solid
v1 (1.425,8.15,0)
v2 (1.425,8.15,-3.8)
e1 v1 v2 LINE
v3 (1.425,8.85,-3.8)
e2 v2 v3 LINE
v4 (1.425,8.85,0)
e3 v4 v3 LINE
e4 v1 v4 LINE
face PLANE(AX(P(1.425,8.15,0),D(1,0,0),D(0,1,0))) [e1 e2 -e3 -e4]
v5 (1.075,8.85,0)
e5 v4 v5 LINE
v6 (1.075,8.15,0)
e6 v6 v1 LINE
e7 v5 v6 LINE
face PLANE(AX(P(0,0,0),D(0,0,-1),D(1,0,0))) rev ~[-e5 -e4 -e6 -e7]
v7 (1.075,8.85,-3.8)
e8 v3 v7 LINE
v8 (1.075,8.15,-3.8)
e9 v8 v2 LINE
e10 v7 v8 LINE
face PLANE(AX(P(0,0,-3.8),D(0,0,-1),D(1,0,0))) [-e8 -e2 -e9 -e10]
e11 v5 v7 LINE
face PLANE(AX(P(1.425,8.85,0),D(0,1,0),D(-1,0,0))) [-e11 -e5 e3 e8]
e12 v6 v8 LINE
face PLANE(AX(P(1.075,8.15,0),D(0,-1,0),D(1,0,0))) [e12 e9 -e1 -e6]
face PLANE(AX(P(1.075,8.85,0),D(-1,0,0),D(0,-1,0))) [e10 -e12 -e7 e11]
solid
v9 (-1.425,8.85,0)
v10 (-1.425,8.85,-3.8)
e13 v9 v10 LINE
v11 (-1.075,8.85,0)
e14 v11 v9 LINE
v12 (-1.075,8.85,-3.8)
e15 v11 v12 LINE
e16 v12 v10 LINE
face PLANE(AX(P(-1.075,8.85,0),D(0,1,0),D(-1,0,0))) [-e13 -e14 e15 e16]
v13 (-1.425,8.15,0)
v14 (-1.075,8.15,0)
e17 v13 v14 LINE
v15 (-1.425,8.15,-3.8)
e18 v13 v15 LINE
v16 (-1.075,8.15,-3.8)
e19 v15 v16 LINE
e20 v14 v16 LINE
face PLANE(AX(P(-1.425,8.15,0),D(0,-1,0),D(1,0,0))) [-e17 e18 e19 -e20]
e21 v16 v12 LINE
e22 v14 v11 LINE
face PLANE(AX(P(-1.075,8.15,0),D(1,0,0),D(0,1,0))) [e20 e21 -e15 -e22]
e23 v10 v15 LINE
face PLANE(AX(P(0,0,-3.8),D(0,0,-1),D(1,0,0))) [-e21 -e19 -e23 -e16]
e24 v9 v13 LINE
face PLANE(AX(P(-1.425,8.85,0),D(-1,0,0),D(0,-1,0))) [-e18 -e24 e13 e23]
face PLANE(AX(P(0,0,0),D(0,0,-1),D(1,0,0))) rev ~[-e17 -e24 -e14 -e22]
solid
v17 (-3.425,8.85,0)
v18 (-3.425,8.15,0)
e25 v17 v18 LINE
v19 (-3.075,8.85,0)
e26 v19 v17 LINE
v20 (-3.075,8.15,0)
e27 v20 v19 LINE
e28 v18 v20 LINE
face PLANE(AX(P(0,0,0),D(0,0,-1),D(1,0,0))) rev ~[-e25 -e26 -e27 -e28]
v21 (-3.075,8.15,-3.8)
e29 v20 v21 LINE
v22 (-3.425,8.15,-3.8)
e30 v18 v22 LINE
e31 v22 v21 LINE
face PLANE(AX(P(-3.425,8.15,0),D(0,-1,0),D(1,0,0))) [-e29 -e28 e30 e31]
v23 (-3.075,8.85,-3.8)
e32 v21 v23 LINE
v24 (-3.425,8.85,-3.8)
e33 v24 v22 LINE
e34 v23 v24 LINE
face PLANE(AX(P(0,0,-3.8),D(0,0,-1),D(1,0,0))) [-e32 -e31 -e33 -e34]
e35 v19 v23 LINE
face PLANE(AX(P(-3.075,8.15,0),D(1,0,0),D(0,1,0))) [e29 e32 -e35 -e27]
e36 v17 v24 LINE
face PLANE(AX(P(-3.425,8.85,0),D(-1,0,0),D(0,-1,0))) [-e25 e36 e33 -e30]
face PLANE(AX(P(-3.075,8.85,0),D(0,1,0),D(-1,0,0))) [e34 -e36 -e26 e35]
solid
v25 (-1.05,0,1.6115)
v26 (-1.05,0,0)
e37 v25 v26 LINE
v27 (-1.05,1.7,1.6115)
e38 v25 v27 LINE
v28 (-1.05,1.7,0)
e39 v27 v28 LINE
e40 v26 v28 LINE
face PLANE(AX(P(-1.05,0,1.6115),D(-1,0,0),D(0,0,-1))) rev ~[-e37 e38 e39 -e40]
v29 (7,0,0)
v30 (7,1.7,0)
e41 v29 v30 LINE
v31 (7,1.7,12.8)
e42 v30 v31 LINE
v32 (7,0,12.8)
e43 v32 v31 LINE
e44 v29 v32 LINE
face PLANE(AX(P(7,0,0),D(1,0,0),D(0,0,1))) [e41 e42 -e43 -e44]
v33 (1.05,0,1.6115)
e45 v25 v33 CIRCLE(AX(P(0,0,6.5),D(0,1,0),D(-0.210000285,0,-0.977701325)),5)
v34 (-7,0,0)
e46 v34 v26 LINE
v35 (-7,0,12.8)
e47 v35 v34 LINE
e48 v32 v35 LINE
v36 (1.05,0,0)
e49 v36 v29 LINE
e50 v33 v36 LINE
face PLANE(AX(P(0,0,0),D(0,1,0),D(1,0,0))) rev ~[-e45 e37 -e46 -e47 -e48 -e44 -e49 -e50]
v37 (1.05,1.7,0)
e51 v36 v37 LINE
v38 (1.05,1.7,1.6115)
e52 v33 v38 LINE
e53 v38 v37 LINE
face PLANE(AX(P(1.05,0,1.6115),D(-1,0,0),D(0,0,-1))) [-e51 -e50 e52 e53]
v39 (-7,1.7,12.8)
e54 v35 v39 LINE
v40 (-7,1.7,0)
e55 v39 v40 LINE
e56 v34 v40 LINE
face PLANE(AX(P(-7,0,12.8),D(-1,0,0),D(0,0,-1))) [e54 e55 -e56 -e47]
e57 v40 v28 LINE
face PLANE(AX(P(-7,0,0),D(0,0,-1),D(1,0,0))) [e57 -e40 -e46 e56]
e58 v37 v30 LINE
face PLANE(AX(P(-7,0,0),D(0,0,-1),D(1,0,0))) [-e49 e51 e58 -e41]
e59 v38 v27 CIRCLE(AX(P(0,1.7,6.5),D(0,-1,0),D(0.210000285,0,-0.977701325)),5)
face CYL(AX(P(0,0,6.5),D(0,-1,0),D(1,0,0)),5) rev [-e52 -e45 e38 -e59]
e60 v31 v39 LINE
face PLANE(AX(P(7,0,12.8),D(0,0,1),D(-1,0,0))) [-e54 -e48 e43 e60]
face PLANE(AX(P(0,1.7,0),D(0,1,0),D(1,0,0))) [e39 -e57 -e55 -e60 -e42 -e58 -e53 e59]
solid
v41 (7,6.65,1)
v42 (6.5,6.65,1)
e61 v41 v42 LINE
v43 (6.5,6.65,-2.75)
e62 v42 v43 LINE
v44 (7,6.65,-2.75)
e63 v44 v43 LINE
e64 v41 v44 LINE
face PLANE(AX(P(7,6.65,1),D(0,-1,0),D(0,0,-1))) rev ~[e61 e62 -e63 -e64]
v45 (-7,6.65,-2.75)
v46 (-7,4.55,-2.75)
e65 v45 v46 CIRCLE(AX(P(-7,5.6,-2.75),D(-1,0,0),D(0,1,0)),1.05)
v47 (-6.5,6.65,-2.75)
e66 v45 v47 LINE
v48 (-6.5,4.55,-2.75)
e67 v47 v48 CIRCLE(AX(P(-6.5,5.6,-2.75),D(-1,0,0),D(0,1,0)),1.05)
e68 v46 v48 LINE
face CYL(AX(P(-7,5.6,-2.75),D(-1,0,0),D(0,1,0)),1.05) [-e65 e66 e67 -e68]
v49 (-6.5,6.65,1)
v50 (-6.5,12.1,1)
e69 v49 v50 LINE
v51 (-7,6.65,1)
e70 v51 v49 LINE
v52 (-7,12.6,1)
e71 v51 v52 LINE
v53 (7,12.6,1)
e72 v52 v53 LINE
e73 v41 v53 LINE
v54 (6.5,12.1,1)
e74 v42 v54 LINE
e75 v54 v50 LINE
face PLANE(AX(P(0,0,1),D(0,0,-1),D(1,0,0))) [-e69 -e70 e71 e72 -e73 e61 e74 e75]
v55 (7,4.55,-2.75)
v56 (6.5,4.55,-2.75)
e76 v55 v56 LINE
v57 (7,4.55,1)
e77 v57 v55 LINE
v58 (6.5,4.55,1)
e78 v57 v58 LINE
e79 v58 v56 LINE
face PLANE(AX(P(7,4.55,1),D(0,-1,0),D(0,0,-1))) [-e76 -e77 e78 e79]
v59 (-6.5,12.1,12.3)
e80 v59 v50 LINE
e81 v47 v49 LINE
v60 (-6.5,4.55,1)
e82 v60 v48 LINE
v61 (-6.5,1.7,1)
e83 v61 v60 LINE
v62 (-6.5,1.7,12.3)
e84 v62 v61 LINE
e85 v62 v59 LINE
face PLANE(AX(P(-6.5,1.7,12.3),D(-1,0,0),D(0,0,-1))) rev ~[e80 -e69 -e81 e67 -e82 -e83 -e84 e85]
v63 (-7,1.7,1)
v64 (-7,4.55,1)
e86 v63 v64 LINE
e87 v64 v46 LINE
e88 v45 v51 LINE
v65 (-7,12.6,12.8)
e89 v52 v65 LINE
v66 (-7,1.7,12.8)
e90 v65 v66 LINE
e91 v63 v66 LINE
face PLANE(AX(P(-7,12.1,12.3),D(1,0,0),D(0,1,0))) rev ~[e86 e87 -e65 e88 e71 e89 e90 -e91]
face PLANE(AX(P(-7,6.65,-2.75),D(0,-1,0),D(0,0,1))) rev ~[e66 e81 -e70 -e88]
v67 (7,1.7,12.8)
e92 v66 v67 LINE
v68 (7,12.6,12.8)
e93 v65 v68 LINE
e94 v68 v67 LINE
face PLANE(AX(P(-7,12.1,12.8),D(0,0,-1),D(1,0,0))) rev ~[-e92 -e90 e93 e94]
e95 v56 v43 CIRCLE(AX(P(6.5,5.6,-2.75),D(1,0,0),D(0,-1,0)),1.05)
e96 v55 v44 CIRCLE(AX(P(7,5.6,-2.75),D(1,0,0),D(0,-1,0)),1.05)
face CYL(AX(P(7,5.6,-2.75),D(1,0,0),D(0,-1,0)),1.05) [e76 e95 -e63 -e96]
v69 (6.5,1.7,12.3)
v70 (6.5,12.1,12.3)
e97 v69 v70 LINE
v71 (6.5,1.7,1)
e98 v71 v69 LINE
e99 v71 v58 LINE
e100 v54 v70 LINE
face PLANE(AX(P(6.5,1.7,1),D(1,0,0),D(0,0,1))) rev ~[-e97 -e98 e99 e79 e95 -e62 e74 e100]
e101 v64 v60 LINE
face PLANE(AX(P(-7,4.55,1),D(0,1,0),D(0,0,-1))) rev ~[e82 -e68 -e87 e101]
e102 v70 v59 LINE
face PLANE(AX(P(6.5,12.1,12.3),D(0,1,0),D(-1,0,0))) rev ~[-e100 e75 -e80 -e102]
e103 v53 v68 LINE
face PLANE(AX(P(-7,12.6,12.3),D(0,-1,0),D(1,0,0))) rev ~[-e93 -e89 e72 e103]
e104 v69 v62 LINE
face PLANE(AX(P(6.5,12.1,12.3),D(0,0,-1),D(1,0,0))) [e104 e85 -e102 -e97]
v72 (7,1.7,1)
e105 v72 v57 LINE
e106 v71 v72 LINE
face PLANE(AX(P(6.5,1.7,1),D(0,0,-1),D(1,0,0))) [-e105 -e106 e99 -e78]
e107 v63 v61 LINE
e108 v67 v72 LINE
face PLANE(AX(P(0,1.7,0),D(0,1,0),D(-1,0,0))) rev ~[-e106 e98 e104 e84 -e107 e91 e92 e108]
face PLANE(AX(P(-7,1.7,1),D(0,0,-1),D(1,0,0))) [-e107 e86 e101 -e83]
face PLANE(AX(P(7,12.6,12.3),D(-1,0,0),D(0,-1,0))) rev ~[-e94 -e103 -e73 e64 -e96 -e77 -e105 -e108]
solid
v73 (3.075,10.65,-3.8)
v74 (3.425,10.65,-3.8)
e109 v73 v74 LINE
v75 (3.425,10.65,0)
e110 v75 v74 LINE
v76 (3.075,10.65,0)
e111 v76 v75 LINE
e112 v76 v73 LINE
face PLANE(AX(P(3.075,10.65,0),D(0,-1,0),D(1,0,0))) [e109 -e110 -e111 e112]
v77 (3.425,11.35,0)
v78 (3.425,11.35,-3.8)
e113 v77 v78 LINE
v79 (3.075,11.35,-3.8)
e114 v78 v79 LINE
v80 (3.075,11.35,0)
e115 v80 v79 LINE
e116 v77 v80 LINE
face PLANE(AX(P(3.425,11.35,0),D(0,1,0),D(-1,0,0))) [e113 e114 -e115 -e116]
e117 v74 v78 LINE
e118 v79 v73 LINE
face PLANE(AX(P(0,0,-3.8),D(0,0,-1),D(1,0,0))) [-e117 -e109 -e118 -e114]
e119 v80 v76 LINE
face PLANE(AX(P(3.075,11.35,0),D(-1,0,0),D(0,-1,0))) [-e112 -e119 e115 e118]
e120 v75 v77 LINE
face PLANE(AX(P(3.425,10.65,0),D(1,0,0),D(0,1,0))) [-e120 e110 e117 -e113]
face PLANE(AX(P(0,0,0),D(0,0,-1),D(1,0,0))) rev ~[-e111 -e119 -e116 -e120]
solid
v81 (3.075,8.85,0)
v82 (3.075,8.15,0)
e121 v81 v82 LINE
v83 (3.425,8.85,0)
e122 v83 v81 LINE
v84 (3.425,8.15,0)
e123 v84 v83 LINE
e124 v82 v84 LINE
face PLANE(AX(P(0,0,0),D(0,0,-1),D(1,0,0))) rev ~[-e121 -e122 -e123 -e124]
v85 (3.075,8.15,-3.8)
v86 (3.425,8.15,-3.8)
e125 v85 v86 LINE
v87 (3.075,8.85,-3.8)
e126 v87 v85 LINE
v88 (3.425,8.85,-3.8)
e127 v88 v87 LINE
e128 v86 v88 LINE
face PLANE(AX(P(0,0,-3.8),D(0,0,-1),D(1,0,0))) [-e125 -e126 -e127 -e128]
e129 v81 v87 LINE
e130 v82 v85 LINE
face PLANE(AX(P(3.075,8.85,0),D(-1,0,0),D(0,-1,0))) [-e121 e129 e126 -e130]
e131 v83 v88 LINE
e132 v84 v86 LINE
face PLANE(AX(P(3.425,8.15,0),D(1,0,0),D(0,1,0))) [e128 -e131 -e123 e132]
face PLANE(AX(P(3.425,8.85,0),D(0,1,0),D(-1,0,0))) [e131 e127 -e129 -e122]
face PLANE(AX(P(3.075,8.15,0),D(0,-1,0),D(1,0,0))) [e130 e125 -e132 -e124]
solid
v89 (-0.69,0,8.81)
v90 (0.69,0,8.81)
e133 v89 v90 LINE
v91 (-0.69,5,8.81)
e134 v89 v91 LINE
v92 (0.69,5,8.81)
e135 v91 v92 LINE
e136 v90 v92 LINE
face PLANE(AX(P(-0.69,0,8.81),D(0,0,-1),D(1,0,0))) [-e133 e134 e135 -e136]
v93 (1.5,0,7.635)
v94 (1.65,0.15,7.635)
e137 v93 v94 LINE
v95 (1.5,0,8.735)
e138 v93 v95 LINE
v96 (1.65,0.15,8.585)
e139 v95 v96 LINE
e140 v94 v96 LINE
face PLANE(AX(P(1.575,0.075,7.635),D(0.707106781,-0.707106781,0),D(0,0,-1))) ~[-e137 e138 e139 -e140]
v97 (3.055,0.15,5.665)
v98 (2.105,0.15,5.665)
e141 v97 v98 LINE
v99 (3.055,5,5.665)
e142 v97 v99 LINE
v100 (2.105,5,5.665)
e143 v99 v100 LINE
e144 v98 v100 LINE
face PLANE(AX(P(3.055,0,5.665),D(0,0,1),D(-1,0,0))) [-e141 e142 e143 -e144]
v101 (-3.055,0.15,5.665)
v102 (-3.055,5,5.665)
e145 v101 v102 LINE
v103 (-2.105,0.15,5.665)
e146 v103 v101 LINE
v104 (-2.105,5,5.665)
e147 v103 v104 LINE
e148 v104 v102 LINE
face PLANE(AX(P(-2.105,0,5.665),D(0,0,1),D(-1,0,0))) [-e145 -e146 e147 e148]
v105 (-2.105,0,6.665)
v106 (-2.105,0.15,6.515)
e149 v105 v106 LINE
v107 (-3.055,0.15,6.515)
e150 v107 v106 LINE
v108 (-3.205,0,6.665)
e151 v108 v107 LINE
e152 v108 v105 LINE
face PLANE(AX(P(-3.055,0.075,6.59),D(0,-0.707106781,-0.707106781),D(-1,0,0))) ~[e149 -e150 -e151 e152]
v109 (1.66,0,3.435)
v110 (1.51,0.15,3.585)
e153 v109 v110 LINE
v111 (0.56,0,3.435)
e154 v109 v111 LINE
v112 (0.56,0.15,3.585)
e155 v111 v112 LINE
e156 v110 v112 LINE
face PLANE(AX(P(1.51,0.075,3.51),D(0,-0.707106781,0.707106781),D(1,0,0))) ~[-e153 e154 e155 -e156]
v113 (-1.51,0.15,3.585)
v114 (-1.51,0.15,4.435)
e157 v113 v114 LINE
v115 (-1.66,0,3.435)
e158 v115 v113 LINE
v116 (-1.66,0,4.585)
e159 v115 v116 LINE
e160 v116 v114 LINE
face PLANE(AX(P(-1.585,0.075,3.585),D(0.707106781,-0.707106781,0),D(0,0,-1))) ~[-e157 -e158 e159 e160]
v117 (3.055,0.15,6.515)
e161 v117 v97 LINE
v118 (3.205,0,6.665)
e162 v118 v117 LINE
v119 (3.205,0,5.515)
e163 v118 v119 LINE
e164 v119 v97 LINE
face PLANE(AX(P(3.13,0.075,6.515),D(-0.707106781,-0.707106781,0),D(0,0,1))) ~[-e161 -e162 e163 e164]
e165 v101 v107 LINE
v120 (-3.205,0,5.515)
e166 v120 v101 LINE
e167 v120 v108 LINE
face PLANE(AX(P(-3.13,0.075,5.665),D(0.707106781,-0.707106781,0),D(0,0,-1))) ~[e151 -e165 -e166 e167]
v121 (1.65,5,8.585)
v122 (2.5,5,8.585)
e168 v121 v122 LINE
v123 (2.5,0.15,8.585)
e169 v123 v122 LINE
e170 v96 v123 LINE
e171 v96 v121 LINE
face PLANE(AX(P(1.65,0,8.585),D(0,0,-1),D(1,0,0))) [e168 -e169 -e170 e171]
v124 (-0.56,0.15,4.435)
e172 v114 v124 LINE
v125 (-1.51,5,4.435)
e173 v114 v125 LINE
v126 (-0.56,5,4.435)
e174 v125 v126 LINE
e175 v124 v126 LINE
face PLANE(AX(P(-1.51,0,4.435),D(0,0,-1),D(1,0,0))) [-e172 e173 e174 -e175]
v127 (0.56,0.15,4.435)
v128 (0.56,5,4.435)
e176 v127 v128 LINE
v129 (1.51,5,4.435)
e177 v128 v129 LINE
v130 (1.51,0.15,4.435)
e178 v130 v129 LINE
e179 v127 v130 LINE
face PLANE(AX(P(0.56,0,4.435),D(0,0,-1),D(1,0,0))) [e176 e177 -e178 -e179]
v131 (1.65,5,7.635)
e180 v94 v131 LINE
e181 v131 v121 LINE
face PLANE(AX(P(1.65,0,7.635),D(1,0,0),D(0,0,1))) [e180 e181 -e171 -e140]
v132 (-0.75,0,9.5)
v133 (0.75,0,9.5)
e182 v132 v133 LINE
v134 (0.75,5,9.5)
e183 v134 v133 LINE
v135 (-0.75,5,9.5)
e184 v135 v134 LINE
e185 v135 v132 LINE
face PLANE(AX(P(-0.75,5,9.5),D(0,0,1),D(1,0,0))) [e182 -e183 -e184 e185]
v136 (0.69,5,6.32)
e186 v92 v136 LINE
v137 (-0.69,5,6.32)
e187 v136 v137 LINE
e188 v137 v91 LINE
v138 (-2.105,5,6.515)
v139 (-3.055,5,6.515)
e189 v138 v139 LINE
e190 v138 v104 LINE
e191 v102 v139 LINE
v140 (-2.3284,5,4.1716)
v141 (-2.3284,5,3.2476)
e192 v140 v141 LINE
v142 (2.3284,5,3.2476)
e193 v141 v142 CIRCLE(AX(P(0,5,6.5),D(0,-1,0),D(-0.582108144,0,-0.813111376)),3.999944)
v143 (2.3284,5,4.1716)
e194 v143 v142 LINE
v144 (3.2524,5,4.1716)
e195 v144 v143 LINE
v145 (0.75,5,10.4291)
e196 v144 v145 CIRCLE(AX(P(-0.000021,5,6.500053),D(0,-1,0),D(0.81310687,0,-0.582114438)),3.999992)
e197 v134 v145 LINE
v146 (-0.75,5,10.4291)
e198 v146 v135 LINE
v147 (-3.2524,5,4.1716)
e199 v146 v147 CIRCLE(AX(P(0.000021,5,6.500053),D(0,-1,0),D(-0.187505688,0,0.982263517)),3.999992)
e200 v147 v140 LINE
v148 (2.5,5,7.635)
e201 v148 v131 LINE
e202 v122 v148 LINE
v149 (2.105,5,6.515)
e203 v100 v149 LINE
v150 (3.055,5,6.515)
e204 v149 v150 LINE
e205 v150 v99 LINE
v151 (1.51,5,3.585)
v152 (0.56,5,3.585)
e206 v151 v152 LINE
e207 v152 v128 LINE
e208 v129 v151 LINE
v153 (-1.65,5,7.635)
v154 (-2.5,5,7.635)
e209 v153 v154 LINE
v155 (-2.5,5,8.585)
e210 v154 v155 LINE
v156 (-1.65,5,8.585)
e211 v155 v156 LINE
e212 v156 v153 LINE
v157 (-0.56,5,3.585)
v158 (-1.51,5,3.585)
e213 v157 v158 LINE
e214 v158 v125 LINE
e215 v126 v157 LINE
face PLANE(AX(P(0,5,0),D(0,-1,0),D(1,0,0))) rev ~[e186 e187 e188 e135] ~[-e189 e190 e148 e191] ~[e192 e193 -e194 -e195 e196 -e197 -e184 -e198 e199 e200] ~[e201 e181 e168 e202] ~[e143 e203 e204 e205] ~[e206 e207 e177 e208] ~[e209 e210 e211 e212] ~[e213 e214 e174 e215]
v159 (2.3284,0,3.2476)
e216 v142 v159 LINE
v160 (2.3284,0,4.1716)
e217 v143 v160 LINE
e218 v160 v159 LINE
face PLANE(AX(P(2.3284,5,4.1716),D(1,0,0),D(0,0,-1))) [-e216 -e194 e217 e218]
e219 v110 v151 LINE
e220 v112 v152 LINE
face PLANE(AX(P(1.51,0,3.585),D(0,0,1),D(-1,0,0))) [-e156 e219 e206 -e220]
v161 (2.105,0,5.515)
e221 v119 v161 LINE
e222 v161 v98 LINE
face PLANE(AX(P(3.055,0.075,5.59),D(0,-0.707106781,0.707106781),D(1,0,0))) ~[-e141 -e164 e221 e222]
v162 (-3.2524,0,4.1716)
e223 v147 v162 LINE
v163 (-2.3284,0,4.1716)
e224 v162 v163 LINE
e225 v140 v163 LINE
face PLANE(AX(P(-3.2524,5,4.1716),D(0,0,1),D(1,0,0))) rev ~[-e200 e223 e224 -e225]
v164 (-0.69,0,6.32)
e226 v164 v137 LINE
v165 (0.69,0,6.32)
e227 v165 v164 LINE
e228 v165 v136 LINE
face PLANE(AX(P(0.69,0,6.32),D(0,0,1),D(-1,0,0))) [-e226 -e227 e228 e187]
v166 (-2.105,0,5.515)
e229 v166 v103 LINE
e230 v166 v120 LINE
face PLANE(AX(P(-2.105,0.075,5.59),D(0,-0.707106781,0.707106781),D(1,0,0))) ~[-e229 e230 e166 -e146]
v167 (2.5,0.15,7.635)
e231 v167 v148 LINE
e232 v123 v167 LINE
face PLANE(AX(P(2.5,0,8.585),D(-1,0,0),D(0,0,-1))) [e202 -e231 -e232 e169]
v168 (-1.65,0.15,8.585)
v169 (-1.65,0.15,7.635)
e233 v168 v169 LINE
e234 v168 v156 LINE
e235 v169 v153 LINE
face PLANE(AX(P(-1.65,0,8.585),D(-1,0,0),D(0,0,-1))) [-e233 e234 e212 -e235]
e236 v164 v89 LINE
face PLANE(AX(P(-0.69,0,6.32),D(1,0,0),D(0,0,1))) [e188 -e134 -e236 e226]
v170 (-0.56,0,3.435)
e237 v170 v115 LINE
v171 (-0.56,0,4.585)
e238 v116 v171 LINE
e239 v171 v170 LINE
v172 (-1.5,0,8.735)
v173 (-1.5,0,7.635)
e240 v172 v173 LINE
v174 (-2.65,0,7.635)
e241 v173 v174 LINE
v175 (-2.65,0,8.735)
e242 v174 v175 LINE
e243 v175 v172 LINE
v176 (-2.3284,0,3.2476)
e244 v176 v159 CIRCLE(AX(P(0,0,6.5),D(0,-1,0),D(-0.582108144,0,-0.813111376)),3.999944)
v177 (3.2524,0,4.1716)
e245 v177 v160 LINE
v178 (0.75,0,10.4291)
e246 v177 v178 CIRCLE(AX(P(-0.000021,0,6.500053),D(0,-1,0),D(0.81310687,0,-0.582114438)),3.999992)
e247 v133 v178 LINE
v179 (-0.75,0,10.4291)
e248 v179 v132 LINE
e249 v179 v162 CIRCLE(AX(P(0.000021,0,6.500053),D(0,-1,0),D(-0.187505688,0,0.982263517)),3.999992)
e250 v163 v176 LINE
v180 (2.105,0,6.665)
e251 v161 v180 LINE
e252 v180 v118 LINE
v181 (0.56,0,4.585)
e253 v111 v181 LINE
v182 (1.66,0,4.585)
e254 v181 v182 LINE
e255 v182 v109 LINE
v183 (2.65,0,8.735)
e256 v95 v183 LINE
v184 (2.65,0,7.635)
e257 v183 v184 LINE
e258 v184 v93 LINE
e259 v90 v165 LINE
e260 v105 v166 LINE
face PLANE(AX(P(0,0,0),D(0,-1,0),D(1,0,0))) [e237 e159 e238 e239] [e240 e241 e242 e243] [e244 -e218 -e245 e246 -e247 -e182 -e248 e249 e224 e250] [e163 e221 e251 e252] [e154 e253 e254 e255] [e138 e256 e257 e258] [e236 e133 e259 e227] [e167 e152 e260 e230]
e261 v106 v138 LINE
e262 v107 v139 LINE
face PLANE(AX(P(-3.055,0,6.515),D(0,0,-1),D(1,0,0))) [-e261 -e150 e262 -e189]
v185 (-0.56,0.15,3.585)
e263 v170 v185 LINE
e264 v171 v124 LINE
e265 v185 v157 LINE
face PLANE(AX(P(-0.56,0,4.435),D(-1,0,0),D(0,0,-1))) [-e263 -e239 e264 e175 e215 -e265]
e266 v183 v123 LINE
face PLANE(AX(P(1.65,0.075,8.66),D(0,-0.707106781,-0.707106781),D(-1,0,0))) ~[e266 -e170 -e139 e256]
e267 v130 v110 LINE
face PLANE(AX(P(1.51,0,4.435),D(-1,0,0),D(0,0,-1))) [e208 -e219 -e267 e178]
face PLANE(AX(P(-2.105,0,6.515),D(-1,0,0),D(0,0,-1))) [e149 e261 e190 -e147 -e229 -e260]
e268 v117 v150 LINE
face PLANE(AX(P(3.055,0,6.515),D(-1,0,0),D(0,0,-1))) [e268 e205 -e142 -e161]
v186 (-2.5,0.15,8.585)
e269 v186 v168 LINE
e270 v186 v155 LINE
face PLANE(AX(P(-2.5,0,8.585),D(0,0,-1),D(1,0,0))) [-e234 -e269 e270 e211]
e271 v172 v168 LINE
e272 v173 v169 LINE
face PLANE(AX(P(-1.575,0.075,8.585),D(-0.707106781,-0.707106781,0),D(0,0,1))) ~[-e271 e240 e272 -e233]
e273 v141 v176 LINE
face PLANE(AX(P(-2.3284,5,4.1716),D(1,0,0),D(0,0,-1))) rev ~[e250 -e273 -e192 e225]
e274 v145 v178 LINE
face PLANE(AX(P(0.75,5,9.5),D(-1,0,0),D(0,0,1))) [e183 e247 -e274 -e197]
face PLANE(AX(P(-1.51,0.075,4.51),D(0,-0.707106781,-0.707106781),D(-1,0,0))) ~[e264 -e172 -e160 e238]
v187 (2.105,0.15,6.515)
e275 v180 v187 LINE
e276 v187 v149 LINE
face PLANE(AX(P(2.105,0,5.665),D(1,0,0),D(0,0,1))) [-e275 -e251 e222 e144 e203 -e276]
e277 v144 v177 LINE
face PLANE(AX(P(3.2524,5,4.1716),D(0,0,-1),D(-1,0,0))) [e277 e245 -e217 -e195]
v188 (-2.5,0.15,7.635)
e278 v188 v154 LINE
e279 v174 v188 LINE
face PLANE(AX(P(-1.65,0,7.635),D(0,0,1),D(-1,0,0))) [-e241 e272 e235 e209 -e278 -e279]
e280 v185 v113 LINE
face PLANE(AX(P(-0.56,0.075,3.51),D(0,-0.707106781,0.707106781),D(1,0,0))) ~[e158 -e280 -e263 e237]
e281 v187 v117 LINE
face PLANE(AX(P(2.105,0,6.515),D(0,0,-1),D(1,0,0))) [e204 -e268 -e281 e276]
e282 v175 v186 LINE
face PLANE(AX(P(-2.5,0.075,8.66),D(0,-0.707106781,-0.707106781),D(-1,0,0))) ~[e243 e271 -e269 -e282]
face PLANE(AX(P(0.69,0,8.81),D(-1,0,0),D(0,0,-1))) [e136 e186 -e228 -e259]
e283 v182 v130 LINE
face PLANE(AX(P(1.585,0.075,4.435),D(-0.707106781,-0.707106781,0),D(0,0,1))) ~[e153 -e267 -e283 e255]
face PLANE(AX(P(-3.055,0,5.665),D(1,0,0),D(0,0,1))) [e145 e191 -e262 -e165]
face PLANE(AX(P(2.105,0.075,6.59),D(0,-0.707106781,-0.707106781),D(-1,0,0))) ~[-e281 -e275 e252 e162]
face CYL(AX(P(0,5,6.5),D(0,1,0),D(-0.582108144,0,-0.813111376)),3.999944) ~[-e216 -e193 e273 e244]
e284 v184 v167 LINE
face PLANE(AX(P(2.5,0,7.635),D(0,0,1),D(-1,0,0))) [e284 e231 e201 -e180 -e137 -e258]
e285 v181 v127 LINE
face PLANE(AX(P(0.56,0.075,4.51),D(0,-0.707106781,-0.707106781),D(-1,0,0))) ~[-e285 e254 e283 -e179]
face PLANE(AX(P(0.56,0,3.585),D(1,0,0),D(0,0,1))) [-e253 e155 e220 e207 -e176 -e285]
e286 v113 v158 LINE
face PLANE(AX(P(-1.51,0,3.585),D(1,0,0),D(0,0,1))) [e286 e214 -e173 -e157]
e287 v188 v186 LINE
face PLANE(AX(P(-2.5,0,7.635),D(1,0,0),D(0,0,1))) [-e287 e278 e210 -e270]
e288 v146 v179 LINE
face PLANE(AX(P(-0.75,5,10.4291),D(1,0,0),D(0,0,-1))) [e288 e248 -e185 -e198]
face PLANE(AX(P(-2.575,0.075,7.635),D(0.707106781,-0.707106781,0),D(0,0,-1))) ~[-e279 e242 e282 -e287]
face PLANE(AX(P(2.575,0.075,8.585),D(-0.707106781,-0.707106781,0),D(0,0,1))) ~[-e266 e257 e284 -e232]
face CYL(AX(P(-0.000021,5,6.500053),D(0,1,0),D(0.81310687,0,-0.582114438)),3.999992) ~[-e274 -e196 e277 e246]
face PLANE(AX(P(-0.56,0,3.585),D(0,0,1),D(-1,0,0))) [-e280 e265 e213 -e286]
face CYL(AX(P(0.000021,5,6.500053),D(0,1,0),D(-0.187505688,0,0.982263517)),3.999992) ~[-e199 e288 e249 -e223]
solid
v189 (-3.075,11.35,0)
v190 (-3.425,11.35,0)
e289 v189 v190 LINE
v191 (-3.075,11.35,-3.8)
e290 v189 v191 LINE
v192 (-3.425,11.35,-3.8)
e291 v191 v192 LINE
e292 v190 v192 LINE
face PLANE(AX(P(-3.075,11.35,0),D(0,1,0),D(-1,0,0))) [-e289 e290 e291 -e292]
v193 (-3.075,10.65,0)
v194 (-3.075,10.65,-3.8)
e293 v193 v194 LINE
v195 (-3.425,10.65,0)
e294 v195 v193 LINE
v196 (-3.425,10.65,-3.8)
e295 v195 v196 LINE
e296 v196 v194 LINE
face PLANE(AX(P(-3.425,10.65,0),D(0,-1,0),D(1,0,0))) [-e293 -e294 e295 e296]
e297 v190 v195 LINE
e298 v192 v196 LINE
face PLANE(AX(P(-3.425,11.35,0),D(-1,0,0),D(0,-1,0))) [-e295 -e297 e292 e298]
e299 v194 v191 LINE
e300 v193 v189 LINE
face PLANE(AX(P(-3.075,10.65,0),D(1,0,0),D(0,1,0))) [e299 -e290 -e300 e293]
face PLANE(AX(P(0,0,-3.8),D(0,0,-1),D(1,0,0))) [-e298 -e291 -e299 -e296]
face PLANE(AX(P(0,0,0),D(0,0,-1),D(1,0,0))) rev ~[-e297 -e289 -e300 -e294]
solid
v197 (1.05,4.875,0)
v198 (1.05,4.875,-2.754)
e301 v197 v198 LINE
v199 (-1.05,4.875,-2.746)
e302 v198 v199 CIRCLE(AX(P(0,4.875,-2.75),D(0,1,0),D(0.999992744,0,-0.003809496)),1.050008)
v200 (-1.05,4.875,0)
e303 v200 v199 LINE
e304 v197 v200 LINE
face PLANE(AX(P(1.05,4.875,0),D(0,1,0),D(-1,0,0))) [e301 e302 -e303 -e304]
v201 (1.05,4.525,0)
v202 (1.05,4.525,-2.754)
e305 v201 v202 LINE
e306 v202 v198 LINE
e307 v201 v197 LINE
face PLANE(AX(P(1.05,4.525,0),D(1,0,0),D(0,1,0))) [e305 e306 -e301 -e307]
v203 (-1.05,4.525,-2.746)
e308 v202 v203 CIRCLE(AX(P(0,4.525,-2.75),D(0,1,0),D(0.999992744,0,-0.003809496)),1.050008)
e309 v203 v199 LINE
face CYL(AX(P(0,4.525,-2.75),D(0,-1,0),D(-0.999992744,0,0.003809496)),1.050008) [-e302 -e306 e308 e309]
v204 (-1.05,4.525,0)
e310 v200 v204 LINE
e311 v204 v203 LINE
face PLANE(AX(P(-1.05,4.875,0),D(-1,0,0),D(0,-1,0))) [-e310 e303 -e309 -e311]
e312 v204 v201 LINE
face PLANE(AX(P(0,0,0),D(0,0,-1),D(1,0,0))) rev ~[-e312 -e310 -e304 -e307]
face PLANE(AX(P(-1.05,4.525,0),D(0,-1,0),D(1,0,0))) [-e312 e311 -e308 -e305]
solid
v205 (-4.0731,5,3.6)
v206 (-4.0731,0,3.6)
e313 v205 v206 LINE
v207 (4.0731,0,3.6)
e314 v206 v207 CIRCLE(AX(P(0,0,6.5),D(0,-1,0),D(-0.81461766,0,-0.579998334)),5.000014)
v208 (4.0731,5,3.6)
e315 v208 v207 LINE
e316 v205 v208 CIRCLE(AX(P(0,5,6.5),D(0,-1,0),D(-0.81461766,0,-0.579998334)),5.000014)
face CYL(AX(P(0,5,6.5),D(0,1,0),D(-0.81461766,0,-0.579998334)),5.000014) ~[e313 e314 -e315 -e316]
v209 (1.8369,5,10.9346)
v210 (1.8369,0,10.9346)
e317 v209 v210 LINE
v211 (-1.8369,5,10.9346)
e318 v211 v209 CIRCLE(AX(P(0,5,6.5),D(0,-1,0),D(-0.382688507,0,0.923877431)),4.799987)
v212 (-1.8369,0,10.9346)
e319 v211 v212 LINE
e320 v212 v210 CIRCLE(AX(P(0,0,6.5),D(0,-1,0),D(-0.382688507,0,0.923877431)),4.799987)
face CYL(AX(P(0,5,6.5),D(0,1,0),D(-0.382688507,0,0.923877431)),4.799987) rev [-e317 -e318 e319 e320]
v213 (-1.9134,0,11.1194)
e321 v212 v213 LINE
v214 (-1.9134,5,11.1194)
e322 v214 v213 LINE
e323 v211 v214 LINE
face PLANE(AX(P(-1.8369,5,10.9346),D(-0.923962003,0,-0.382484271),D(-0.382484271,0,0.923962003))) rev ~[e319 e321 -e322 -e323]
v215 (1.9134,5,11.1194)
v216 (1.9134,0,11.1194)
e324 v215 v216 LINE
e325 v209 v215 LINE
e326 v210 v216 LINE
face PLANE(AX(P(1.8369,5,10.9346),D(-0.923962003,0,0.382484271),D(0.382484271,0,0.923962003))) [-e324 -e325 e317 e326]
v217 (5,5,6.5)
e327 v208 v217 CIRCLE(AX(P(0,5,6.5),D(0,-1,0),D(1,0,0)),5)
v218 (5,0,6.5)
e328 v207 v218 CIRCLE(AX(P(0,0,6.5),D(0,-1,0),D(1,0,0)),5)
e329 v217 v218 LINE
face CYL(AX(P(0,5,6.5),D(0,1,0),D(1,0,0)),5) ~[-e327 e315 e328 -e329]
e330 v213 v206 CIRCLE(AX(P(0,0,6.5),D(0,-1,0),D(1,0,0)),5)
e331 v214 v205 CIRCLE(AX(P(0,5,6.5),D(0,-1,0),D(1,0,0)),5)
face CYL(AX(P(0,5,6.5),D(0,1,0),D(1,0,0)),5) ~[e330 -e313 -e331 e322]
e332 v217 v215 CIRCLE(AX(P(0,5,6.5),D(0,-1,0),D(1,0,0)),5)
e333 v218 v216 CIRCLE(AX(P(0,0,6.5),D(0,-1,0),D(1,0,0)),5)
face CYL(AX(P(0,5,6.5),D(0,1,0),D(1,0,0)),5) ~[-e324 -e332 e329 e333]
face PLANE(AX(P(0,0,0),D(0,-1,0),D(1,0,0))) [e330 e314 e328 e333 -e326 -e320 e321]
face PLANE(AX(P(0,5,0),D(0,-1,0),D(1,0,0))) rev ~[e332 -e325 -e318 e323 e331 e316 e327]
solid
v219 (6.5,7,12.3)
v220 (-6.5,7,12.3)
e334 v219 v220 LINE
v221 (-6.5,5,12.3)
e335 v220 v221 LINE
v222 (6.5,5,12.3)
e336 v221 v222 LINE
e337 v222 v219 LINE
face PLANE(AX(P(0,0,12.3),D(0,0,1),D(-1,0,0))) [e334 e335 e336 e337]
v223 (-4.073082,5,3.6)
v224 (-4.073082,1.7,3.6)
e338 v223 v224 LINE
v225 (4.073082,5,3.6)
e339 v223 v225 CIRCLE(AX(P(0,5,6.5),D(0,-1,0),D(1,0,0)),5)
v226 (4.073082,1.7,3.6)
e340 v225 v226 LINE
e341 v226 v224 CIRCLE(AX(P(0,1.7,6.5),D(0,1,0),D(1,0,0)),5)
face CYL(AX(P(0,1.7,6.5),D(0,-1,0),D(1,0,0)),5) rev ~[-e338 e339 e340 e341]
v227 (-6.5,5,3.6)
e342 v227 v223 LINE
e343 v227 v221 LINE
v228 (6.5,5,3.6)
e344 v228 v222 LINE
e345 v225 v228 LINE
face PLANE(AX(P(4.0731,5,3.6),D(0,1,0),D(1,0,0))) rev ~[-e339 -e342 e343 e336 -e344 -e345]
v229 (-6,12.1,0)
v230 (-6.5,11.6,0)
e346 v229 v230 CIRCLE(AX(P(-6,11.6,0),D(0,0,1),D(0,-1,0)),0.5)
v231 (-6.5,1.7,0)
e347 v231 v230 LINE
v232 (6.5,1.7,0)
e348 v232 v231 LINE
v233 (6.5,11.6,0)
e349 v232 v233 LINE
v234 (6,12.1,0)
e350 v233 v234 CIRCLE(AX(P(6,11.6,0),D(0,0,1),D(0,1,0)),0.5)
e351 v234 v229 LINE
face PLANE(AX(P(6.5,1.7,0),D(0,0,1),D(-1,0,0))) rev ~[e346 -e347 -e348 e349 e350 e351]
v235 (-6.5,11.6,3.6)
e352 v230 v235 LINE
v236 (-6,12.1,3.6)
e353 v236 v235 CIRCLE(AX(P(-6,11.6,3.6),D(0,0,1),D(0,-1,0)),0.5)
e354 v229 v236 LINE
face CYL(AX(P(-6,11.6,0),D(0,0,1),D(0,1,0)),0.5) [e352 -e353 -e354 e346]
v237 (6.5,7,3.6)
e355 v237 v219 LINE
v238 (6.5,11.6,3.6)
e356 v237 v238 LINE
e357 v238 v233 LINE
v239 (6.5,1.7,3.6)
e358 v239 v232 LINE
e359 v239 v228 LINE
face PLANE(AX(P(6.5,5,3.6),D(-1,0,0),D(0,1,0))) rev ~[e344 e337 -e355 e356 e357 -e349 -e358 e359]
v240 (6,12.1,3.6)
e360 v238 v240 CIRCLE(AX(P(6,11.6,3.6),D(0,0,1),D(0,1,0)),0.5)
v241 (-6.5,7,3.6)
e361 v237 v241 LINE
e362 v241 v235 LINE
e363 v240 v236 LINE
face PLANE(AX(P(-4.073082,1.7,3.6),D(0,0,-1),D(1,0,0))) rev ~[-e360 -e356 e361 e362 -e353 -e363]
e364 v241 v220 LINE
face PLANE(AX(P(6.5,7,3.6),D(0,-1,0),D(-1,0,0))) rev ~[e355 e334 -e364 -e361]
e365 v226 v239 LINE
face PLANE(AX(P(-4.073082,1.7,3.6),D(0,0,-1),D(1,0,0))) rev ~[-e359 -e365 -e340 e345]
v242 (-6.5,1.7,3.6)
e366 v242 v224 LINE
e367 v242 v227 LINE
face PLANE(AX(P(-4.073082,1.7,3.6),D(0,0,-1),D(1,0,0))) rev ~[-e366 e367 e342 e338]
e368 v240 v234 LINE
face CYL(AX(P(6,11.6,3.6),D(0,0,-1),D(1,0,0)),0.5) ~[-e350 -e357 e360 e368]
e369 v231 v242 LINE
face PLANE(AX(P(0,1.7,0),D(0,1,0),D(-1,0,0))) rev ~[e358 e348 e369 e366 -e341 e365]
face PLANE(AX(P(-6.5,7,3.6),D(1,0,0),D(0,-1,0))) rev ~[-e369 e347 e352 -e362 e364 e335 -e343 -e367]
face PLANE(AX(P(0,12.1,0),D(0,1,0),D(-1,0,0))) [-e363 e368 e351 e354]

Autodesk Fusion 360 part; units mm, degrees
sketch "Sketch1" plane through (0, 0, 0) normal (0, 1, 0) x (1, 0, 0) in component "Front"
  line L0 (-7, 0) -> (7, 0)
  line L1 (7, 0) -> (7, -12.8)
  line L2 (7, -12.8) -> (-7, -12.8)
  line L3 (-7, -12.8) -> (-7, 0)
  circle A0 centre (0, -6.5) radius 5
  line L4 (0, 0) -> (0, -12.8) construction
  dimension "d2" = 14
  dimension "d3" = 12.8
  dimension "d4" = 10
  dimension "d5" = 6.5
extrude "Extrude1" add sketch "Sketch1" along normal blind 1.7 makes body 1 in component "Front"
sketch "Sketch1 (2)" plane through (0, 1.7, 0) normal (0, 1, 0) x (-1, 0, 0) in component "Base"
  circle A0 centre (0, 6.5) radius 5
  line L0 (7, 12.8) -> (-7, 12.8)
  line L1 (-7, 12.8) -> (-7, 0)
  line L2 (-7, 0) -> (7, 0)
  line L3 (7, 0) -> (7, 12.8)
  line L4 (-6.5, 0) -> (6.5, 0)
  line L5 (6.5, 0) -> (6.5, 3.6)
  line L6 (6.5, 3.6) -> (-6.5, 3.6)
  line L7 (-6.5, 3.6) -> (-6.5, 0)
  dimension "d8" = 3.6
  dimension "d13" = 0.5
extrude "Extrude1'" add sketch "Sketch1 (2)" along normal blind 10.4 separate body contours A0 L6 | A0 L2 L4 L5 L6 L7 picked at (-1.2021, 3.4122) makes body 2 in component "Base"
sketch "Sketch2" plane through (0, 1.7, 0) normal (0, -1, 0) x (1, 0, 0) in component "Base"
  line L0 (6.5, 0) -> (6.5, 3.6)
  line L1 (6.5, 3.6) -> (-6.5, 3.6)
  line L2 (-6.5, 3.6) -> (-6.5, 0)
  line L3 (-6.5, 0) -> (6.5, 0)
  circle A0 centre (0, 6.5) radius 5
extrude "Extrude2" cut sketch "Sketch2" against normal blind 3.3 contours L1 A0 | L1 A0 bodies 2 in component "Base"
fillet "Fillet1" radius 0.5 2 edges at (6.5, 12.1, 1.8) (-6.5, 12.1, 1.8) on bodies 2 in component "Base"
sketch "Sketch3" plane through (0, 0, 3.6) normal (0, 0, 1) x (-1, 0, 0) in component "Base"
  arc A0 (6, -12.1) -> (6.5, -11.6) centre (6, -11.6) ccw
  line L0 (6.5, -11.6) -> (6.5, -1.7)
  line L1 (6.5, -1.7) -> (4.0731, -1.7)
  line L2 (4.0731, -1.7) -> (4.0731, -5)
  line L3 (4.0731, -5) -> (-4.0731, -5)
  line L4 (-4.0731, -5) -> (-4.0731, -1.7)
  line L5 (-4.0731, -1.7) -> (-6.5, -1.7)
  line L6 (-6.5, -1.7) -> (-6.5, -11.6)
  arc A1 (-6.5, -11.6) -> (-6, -12.1) centre (-6, -11.6) ccw
  line L7 (-6, -12.1) -> (6, -12.1)
  line L8 (6.5, -5) -> (-6.5, -5)
  line L9 (-6.5, -5) -> (-6.5, -7)
  line L10 (-6.5, -7) -> (6.5, -7)
  line L11 (6.5, -7) -> (6.5, -5)
  dimension "d16" = 2
extrude "Extrude3" add sketch "Sketch3" along normal up to surface (8.7 mm away) contours L0 L3 L6 L8 L9 L10 L11 bodies 2 in component "Base"
sketch "Sketch1 (3)" plane through (0, 5, 0) normal (0, -1, 0) x (1, 0, 0) in component "Jack"
  arc A0 (-4.0731, 3.6) -> (4.0731, 3.6) centre (0, 6.5) ccw
  line L0 (4.0731, 3.6) -> (6.5, 3.6)
  line L1 (6.5, 3.6) -> (6.5, 12.3)
  line L2 (6.5, 12.3) -> (-6.5, 12.3)
  line L3 (-6.5, 12.3) -> (-6.5, 3.6)
  line L4 (-6.5, 3.6) -> (-4.0731, 3.6)
  circle A1 centre (0, 6.5) radius 5
  circle A2 centre (0, 6.5) radius 4 construction
  line L5 (-0.75, 10.4291) -> (-0.75, 9.5)
  line L6 (-0.75, 9.5) -> (0.75, 9.5)
  line L7 (0.75, 9.5) -> (0.75, 10.4291)
  line L8 (0, 12.3) -> (0, 0) construction
  line L9 (-3.2524, 4.1716) -> (-2.3284, 4.1716)
  line L10 (-2.3284, 4.1716) -> (-2.3284, 3.2476)
  line L11 (3.2524, 4.1716) -> (2.3284, 4.1716)
  line L12 (2.3284, 4.1716) -> (2.3284, 3.2476)
  arc A3 (-0.75, 10.4291) -> (-3.2524, 4.1716) centre (0, 6.5) ccw
  arc A4 (3.2524, 4.1716) -> (0.75, 10.4291) centre (0, 6.5) ccw
  arc A5 (-2.3284, 3.2476) -> (2.3284, 3.2476) centre (0, 6.5) ccw
  dimension "d19" = 8
  dimension "d20" = 1.5
  dimension "d21" = 0.9291
  dimension "d22" = 0.924
extrude "Extrude1''" add sketch "Sketch1 (3)" along normal up to surface (5 mm away) separate body contours L5 L6 L7 L9 L10 L11 L12 A3 A4 A5 makes body 3 in component "Jack"
sketch "Sketch2 (2)" plane through (0, 0, 0) normal (0, -1, 0) x (1, 0, 0) in component "Jack"
  line L0 (-0.75, 9.5) -> (-0.75, 10.4291)
  arc A0 (-0.75, 10.4291) -> (-3.2524, 4.1716) centre (0, 6.5) ccw
  line L1 (-3.2524, 4.1716) -> (-2.3284, 4.1716)
  line L2 (-2.3284, 4.1716) -> (-2.3284, 3.2476)
  arc A1 (-2.3284, 3.2476) -> (2.3284, 3.2476) centre (0, 6.5) ccw
  line L3 (2.3284, 3.2476) -> (2.3284, 4.1716)
  line L4 (2.3284, 4.1716) -> (3.2524, 4.1716)
  arc A2 (3.2524, 4.1716) -> (0.75, 10.4291) centre (0, 6.5) ccw
  line L5 (0.75, 10.4291) -> (0.75, 9.5)
  line L6 (0.75, 9.5) -> (-0.75, 9.5)
  circle A3 centre (0, 6.5) radius 4 construction
  line L7 (0, 0) -> (0, 12.3) construction
  line L8 (-4, 6.5) -> (4, 6.5) construction
  line L9 (-2.5, 8.585) -> (-1.65, 8.585)
  line L10 (-1.65, 8.585) -> (-1.65, 7.635)
  line L11 (-1.65, 7.635) -> (-2.5, 7.635)
  line L12 (-2.5, 7.635) -> (-2.5, 8.585)
  line L13 (1.65, 8.585) -> (2.5, 8.585)
  line L14 (2.5, 8.585) -> (2.5, 7.635)
  line L15 (2.5, 7.635) -> (1.65, 7.635)
  line L16 (1.65, 7.635) -> (1.65, 8.585)
  line L17 (-3.055, 6.515) -> (-2.105, 6.515)
  line L18 (-2.105, 6.515) -> (-2.105, 5.665)
  line L19 (-2.105, 5.665) -> (-3.055, 5.665)
  line L20 (-3.055, 5.665) -> (-3.055, 6.515)
  line L21 (2.105, 6.515) -> (3.055, 6.515)
  line L22 (3.055, 6.515) -> (3.055, 5.665)
  line L23 (3.055, 5.665) -> (2.105, 5.665)
  line L24 (2.105, 5.665) -> (2.105, 6.515)
  line L25 (-1.51, 4.435) -> (-0.56, 4.435)
  line L26 (-0.56, 4.435) -> (-0.56, 3.585)
  line L27 (-0.56, 3.585) -> (-1.51, 3.585)
  line L28 (-1.51, 3.585) -> (-1.51, 4.435)
  line L29 (0.56, 4.435) -> (1.51, 4.435)
  line L30 (1.51, 4.435) -> (1.51, 3.585)
  line L31 (1.51, 3.585) -> (0.56, 3.585)
  line L32 (0.56, 3.585) -> (0.56, 4.435)
  line L33 (2.105, 6.515) -> (3.055, 5.665) construction
  line L34 (3.055, 6.515) -> (2.105, 5.665) construction
  line L35 (1.65, 8.585) -> (2.5, 7.635) construction
  line L36 (2.5, 8.585) -> (1.65, 7.635) construction
  line L37 (-2.5, 8.585) -> (-1.65, 7.635) construction
  line L38 (-1.65, 8.585) -> (-2.5, 7.635) construction
  line L39 (-3.055, 6.515) -> (-2.105, 5.665) construction
  line L40 (-2.105, 6.515) -> (-3.055, 5.665) construction
  line L41 (-1.51, 4.435) -> (-0.56, 3.585) construction
  line L42 (-0.56, 4.435) -> (-0.4693, 4.435)
  line L43 (-1.51, 3.585) -> (-0.56, 4.435) construction
  line L44 (0.56, 4.435) -> (1.51, 3.585) construction
  line L45 (1.51, 4.435) -> (0.56, 3.585) construction
  line L46 (-2.075, 8.585) -> (-2.075, 7.635) construction
  line L47 (2.075, 8.585) -> (2.075, 7.635) construction
  line L48 (-2.075, 8.11) -> (2.075, 8.11) construction
  line L49 (-2.58, 6.515) -> (-2.58, 6.4)
  line L50 (-2.58, 6.4) -> (-2.58, 5.665) construction
  line L51 (2.58, 6.515) -> (2.58, 5.665) construction
  line L52 (-2.58, 6.09) -> (2.58, 6.09) construction
  line L53 (-1.035, 4.01) -> (1.035, 4.01) construction
  line L54 (0.69, 6.32) -> (-0.69, 6.32)
  line L55 (-0.69, 6.32) -> (-0.69, 8.81)
  line L56 (-0.69, 8.81) -> (0.69, 8.81)
  line L57 (0.69, 8.81) -> (0.69, 6.32)
  line L58 (0.69, 6.32) -> (-0.69, 8.81) construction
  line L59 (-0.69, 6.32) -> (0.69, 8.81) construction
  point P0 (0, 7.565)
  dimension "d27" = 0.85
  dimension "d28" = 0.95
  dimension "d29" = 0.85
  dimension "d30" = 0.95
  dimension "d43" = 5.16
  dimension "d48" = 8
  dimension "d49" = 4.15
  dimension "d50" = 2.07
  dimension "d51" = 1.61
  dimension "d52" = 0.41
  dimension "d53" = 2.49
  dimension "d54" = 1.38
  dimension "d55" = 2.49
  dimension "d56" = 2.31
extrude "Extrude2'" cut sketch "Sketch2 (2)" against normal blind 5 contours L9 L10 L11 L12 | L13 L14 L15 L16 | L17 L18 L19 L20 | L21 L22 L23 L24 | L25 L26 L27 L28 | L29 L30 L31 L32 | L54 L55 L56 L57 bodies 3 in component "Jack"
chamfer "Chamfer1" distance 0.15 angle 45 18 edges at (-2.5, 0, 8.11) (-2.075, 0, 8.585) (-1.65, 0, 8.11) (1.65, 0, 8.11) (2.075, 0, 8.585) (2.5, 0, 8.11) (-2.58, 0, 6.515) (-3.055, 0, 6.09) (-2.58, 0, 5.665) (-1.035, 0, 4.435) (-1.51, 0, 4.01) (-1.035, 0, 3.585) (1.035, 0, 3.585) (1.51, 0, 4.01) (1.035, 0, 4.435) (2.58, 0, 5.665) (3.055, 0, 6.09) (2.58, 0, 6.515) on bodies 3 in component "Jack"
sketch "Sketch1 (4)" plane through (0, 5, 0) normal (0, -1, 0) x (1, 0, 0) in component "Barrel"
  arc A0 (-4.0731, 3.6) -> (4.0731, 3.6) centre (0, 6.5) ccw
  line L0 (4.0731, 3.6) -> (6.5, 3.6)
  line L1 (6.5, 3.6) -> (6.5, 12.3)
  line L2 (6.5, 12.3) -> (-6.5, 12.3)
  line L3 (-6.5, 12.3) -> (-6.5, 3.6)
  line L4 (-6.5, 3.6) -> (-4.0731, 3.6)
  circle A1 centre (0, 6.5) radius 5
  arc A2 (-1.9134, 11.1194) -> (1.9134, 11.1194) centre (0, 6.5) ccw
  line L5 (0, 6.5) -> (-1.9134, 11.1194) construction
  line L6 (0, 6.5) -> (1.9134, 11.1194) construction
  line L7 (0, 6.5) -> (0, 12.3) construction
  arc A3 (-1.8369, 10.9346) -> (1.8369, 10.9346) centre (0, 6.5) ccw
  line L8 (1.8369, 10.9346) -> (1.9134, 11.1194)
  line L9 (-1.8369, 10.9346) -> (-1.9134, 11.1194)
  dimension "d58" = 315
  dimension "d60" = 0.2
extrude "Extrude1'''" add sketch "Sketch1 (4)" along normal up to surface (5 mm away) separate body contours A0 A1 A2 A3 L8 L9 makes body 4 in component "Barrel"
sketch "Sketch2 (3)" plane through (0, 0, 0) normal (0, -1, 0) x (1, 0, 0) in component "Front"
  circle A0 centre (0, 6.5) radius 5
  line L0 (7, 12.8) -> (-7, 12.8)
  line L1 (-7, 12.8) -> (-7, 0)
  line L2 (-7, 0) -> (7, 0)
  line L3 (7, 0) -> (7, 12.8)
  circle A1 centre (0, 6.5) radius 5
  line L4 (-7, 0) -> (7, 0)
  line L5 (0, 0) -> (0, 6.5) construction
  line L6 (1.05, 1.6115) -> (1.05, 0)
  line L7 (-1.05, 1.6115) -> (-1.05, 0)
  line L8 (-1.05, 0) -> (1.05, 0)
  dimension "d63" = 2.1
extrude "Extrude2''" cut sketch "Sketch2 (3)" against normal up to surface (1.7 mm away) contours A0 L2 A1 L4 L6 L7 L8 bodies 1 in component "Front"
sketch "Sketch1 (5)" plane through (0, 1.7, 0) normal (0, 1, 0) x (-1, 0, 0) in component "Shield"
  line L0 (-1.05, 0) -> (-1.05, 1.6115)
  arc A0 (1.05, 1.6115) -> (-1.05, 1.6115) centre (0, 6.5) ccw
  line L1 (1.05, 1.6115) -> (1.05, 0)
  line L2 (1.05, 0) -> (7, 0)
  line L3 (7, 0) -> (7, 12.8)
  line L4 (7, 12.8) -> (-7, 12.8)
  line L5 (-7, 12.8) -> (-7, 0)
  line L6 (-7, 0) -> (-1.05, 0)
  line L7 (-7, 12.8) -> (-7, 0)
  line L8 (7, 12.8) -> (-7, 12.8)
  line L9 (7, 0) -> (7, 12.8)
  line L10 (-6.5, 1) -> (-6.5, 12.3)
  line L11 (-6.5, 12.3) -> (6.5, 12.3)
  line L12 (6.5, 12.3) -> (6.5, 1)
  line L13 (-6.5, 1) -> (-7, 1)
  line L14 (-7, 1) -> (-7, 12.8)
  line L15 (-7, 12.8) -> (7, 12.8)
  line L16 (7, 12.8) -> (7, 1)
  line L17 (7, 1) -> (6.5, 1)
  dimension "d66" = 0.5
  dimension "d67" = 0.5
  dimension "d68" = 0.5
  dimension "d69" = 1
  dimension "d70" = 1
extrude "Extrude1''''" add sketch "Sketch1 (5)" along normal blind 10.4 separate body contours L3 L4 L5 L7 L8 L9 L10 L11 L12 L13 L14 L15 L16 L17 makes body 5 in component "Shield"
sketch "Sketch2 (4)" plane through (7, 0, 0) normal (1, 0, 0) x (0, 1, 0) in component "Shield"
  line L0 (1.7, 12.8) -> (1.7, 1)
  line L1 (1.7, 1) -> (12.1, 1)
  line L2 (12.1, 1) -> (12.1, 12.8)
  line L3 (12.1, 12.8) -> (1.7, 12.8)
  line L4 (0, 0) -> (0, 12.8)
  line L5 (0, 0) -> (1.7, 0)
  line L6 (1.7, 1) -> (12.1, 1)
  line L7 (4.55, 1) -> (4.55, -2.75)
  line L8 (4.55, 1) -> (6.65, 1)
  line L9 (6.65, 1) -> (6.65, -2.75)
  arc A0 (4.55, -2.75) -> (6.65, -2.75) centre (5.6, -2.75) ccw
  line L10 (5.6, 1) -> (5.6, 0.8862)
  line L11 (5.6, 0.8862) -> (5.6, -3.8) construction
  line L12 (6.65, -2.75) -> (5.6, -2.75) construction
  line L13 (5.6, -2.75) -> (4.55, -2.75) construction
  dimension "d73" = 2.1
  dimension "d74" = 180
  dimension "d75" = 3.8
  dimension "d76" = 5.6
extrude "Extrude2'''" add sketch "Sketch2 (4)" against normal up to surface (0.5 mm away) contours L1 L6 L7 L8 L9 A0 bodies 5 in component "Shield"
sketch "Sketch3 (2)" plane through (-7, 0, 0) normal (-1, 0, 0) x (0, -1, 0) in component "Shield"
  line L0 (-1.7, 1) -> (-1.7, 12.8)
  line L1 (-1.7, 12.8) -> (-12.1, 12.8)
  line L2 (-12.1, 12.8) -> (-12.1, 1)
  line L3 (-12.1, 1) -> (-1.7, 1)
  line L4 (-4.55, 1) -> (-4.55, -2.75)
  line L5 (-6.65, -2.75) -> (-6.65, 1)
  arc A0 (-6.65, -2.75) -> (-4.55, -2.75) centre (-5.6, -2.75) ccw
  line L6 (-1.7, 1) -> (-12.1, 1)
extrude "Extrude3'" add sketch "Sketch3 (2)" against normal up to surface (0.5 mm away) contours L3 L4 L5 A0 L6 bodies 5 in component "Shield"
sketch "Sketch1 (6)" plane through (0, 0, 0) normal (0, 0, -1) x (1, 0, 0) in component "Pins"
  arc A0 (-6.5, -11.6) -> (-6, -12.1) centre (-6, -11.6) ccw
  line L0 (-6, -12.1) -> (6, -12.1)
  arc A1 (6, -12.1) -> (6.5, -11.6) centre (6, -11.6) ccw
  line L1 (6.5, -11.6) -> (6.5, -1.7)
  line L2 (6.5, -1.7) -> (-6.5, -1.7)
  line L3 (-6.5, -1.7) -> (-6.5, -11.6)
  line L4 (-7, 0) -> (-1.05, 0)
  line L5 (1.05, 0) -> (7, 0)
  line L6 (-7, 0) -> (7, 0) construction
  line L7 (0, 0) -> (0, -12.1) construction
  line L8 (-3.075, -8.85) -> (-3.425, -8.85)
  line L9 (-3.425, -8.85) -> (-3.425, -8.15)
  line L10 (-3.425, -8.15) -> (-3.075, -8.15)
  line L11 (-3.075, -8.15) -> (-3.075, -8.85)
  line L12 (-3.075, -8.85) -> (-3.425, -8.15) construction
  line L13 (-3.425, -8.85) -> (-3.075, -8.15) construction
  line L14 (-1.075, -8.85) -> (-1.425, -8.85)
  line L15 (-1.425, -8.85) -> (-1.425, -8.15)
  line L16 (-1.425, -8.15) -> (-1.075, -8.15)
  line L17 (-1.075, -8.15) -> (-1.075, -8.85)
  line L18 (-1.075, -8.85) -> (-1.425, -8.15) construction
  line L19 (-1.425, -8.85) -> (-1.075, -8.15) construction
  line L20 (1.425, -8.85) -> (1.075, -8.85)
  line L21 (1.075, -8.85) -> (1.075, -8.15)
  line L22 (1.075, -8.15) -> (1.425, -8.15)
  line L23 (1.425, -8.15) -> (1.425, -8.85)
  line L24 (1.425, -8.85) -> (1.075, -8.15) construction
  line L25 (1.075, -8.85) -> (1.425, -8.15) construction
  line L26 (3.425, -8.85) -> (3.075, -8.85)
  line L27 (3.075, -8.85) -> (3.075, -8.15)
  line L28 (3.075, -8.15) -> (3.425, -8.15)
  line L29 (3.425, -8.15) -> (3.425, -8.85)
  line L30 (3.425, -8.85) -> (3.075, -8.15) construction
  line L31 (3.075, -8.85) -> (3.425, -8.15) construction
  line L32 (-3.075, -11.35) -> (-3.425, -11.35)
  line L33 (-3.425, -11.35) -> (-3.425, -10.65)
  line L34 (-3.425, -10.65) -> (-3.075, -10.65)
  line L35 (-3.075, -10.65) -> (-3.075, -11.35)
  line L36 (-3.075, -11.35) -> (-3.425, -10.65) construction
  line L37 (-3.425, -11.35) -> (-3.075, -10.65) construction
  line L38 (3.425, -11.35) -> (3.075, -11.35)
  line L39 (3.075, -11.35) -> (3.075, -10.65)
  line L40 (3.075, -10.65) -> (3.425, -10.65)
  line L41 (3.425, -10.65) -> (3.425, -11.35)
  line L42 (3.425, -11.35) -> (3.075, -10.65) construction
  line L43 (3.075, -11.35) -> (3.425, -10.65) construction
  line L44 (-3.25, -11) -> (3.25, -11) construction
  line L45 (-3.25, -8.5) -> (3.25, -8.5) construction
  point P0 (-3.25, -8.5)
  point P1 (-1.25, -8.5)
  point P2 (1.25, -8.5)
  point P3 (3.25, -8.5)
  point P4 (-3.25, -11)
  point P5 (3.25, -11)
  dimension "d32" = 1.525
  dimension "d81" = 0.7
  dimension "d82" = 0.35
  dimension "d83" = 6.5
  dimension "d84" = 2.5
  dimension "d85" = 6.5
  dimension "d86" = 2.5
  dimension "d87" = 8.5
extrude "Extrude1'''''" add sketch "Sketch1 (6)" along normal blind 3.8 separate body contours L8 L9 L10 L11 | L14 L15 L16 L17 | L20 L21 L22 L23 | L26 L27 L28 L29 | L32 L33 L34 L35 | L38 L39 L40 L41 makes body 6 at (3.075, 8.6167, -1.2667) makes body 7 at (-3.425, 8.6167, -1.2667) makes body 8 at (3.075, 11.1167, -1.2667) makes body 9 at (1.075, 8.6167, -1.2667) makes body 10 at (-1.425, 8.6167, -1.2667) makes body 11 at (-3.425, 10.8833, -2.5333) in component "Pins"
sketch "Sketch2 (5)" plane through (0, 0, 0) normal (0, 0, -1) x (1, 0, 0) in component "Pins"
  arc A0 (-6.5, -11.6) -> (-6, -12.1) centre (-6, -11.6) ccw
  line L0 (-6, -12.1) -> (6, -12.1)
  arc A1 (6, -12.1) -> (6.5, -11.6) centre (6, -11.6) ccw
  line L1 (6.5, -11.6) -> (6.5, -1.7)
  line L2 (6.5, -1.7) -> (-6.5, -1.7)
  line L3 (-6.5, -1.7) -> (-6.5, -11.6)
  line L4 (0, 0) -> (0, -12.1) construction
  line L5 (1.05, 0) -> (1.05, -1.7)
  line L6 (-1.05, -1.7) -> (-1.05, 0)
  line L7 (1.05, -4.875) -> (-1.05, -4.875)
  line L8 (-1.05, -4.875) -> (-1.05, -4.525)
  line L9 (-1.05, -4.525) -> (1.05, -4.525)
  line L10 (1.05, -4.525) -> (1.05, -4.875)
  line L11 (1.05, -4.875) -> (-1.05, -4.525) construction
  line L12 (-1.05, -4.875) -> (1.05, -4.525) construction
  point P0 (0, -4.7)
  dimension "d90" = 0.35
  dimension "d91" = 4.7
extrude "Extrude2''''" add sketch "Sketch2 (5)" along normal blind 3.8 separate body contours L7 L8 L9 L10 makes body 12 in component "Pins"
sketch "Sketch3 (3)" plane through (0, 4.525, 0) normal (0, -1, 0) x (1, 0, 0) in component "Pins"
  line L0 (1.05, 0) -> (-1.05, 0)
  line L1 (-1.05, 0) -> (-1.05, -3.8)
  line L2 (-1.05, -3.8) -> (1.05, -3.8)
  line L3 (1.05, -3.8) -> (1.05, 0)
  line L4 (0, 0) -> (0, -3.8) construction
  arc A0 (-1.05, -2.746) -> (1.05, -2.754) centre (0, -2.75) ccw
  line L5 (0, -2.75) -> (-1.05, -2.746) construction
  line L6 (0, -2.75) -> (1.05, -2.754) construction
  dimension "d94" = 180
extrude "Extrude3''" cut sketch "Sketch3 (3)" against normal up to surface (0.35 mm away) contours L1 L2 A0 | L2 L3 A0 bodies 12 in component "Pins"
sketch "Sketch4" plane through (0, 12.1, 0) normal (0, 1, 0) x (-1, 0, 0) in component "Shield"
  line L0 (-6.5, 1) -> (-6.5, 12.3)
  line L1 (-6.5, 12.3) -> (6.5, 12.3)
  line L2 (6.5, 12.3) -> (6.5, 1)
  line L3 (6.5, 1) -> (7, 1)
  line L4 (7, 1) -> (7, 12.8)
  line L5 (7, 12.8) -> (-7, 12.8)
  line L6 (-7, 12.8) -> (-7, 1)
  line L7 (-7, 1) -> (-6.5, 1)
  line L8 (-7, 12.8) -> (7, 12.8)
  line L9 (7, 12.8) -> (7, 12.3)
  line L10 (7, 12.3) -> (-7, 12.3)
  line L11 (-7, 12.3) -> (-7, 12.8)
extrude "Extrude4" add sketch "Sketch4" along normal blind 0.5 contours L1 L4 L5 L6 L8 L9 L10 L11 bodies 5 in component "Shield"
sketch "Sketch5" plane through (0, 0, 12.3) normal (0, 0, -1) x (1, 0, 0) in component "Shield"
  line L0 (6.5, -1.7) -> (-6.5, -1.7)
  line L1 (-6.5, -1.7) -> (-6.5, -12.1)
  line L2 (-6.5, -12.1) -> (-7, -12.1)
  line L3 (-7, -12.1) -> (-7, -12.6)
  line L4 (-7, -12.6) -> (7, -12.6)
  line L5 (7, -12.6) -> (7, -12.1)
  line L6 (7, -12.1) -> (6.5, -12.1)
  line L7 (6.5, -12.1) -> (6.5, -1.7)
  line L8 (-7, -12.6) -> (7, -12.6)
  line L9 (7, -12.6) -> (7, -12.1)
  line L10 (7, -12.1) -> (-7, -12.1)
  line L11 (-7, -12.1) -> (-7, -12.6)
extrude "Extrude5" add sketch "Sketch5" along normal up to surface (11.3 mm away) contours L2 L3 L4 L5 L6 L8 L9 L10 L11 bodies 5 in component "Shield"
component "Front" placed x (1, 0, 0) y (0, 1, 0) z (0, 0, 1) at (0, 0, 0)
component "Base" placed x (1, 0, 0) y (0, 1, 0) z (0, 0, 1) at (0, 0, 0)
component "Shield" placed x (1, 0, 0) y (0, 1, 0) z (0, 0, 1) at (0, 0, 0)
component "Jack" placed x (1, 0, 0) y (0, 1, 0) z (0, 0, 1) at (0, 0, 0)
component "Barrel" placed x (1, 0, 0) y (0, 1, 0) z (0, 0, 1) at (0, 0, 0)
component "Pins" placed x (1, 0, 0) y (0, 1, 0) z (0, 0, 1) at (0, 0, 0)
equation "d67 = d66"
equation "d68 = d66"
equation "d70 = d69"
